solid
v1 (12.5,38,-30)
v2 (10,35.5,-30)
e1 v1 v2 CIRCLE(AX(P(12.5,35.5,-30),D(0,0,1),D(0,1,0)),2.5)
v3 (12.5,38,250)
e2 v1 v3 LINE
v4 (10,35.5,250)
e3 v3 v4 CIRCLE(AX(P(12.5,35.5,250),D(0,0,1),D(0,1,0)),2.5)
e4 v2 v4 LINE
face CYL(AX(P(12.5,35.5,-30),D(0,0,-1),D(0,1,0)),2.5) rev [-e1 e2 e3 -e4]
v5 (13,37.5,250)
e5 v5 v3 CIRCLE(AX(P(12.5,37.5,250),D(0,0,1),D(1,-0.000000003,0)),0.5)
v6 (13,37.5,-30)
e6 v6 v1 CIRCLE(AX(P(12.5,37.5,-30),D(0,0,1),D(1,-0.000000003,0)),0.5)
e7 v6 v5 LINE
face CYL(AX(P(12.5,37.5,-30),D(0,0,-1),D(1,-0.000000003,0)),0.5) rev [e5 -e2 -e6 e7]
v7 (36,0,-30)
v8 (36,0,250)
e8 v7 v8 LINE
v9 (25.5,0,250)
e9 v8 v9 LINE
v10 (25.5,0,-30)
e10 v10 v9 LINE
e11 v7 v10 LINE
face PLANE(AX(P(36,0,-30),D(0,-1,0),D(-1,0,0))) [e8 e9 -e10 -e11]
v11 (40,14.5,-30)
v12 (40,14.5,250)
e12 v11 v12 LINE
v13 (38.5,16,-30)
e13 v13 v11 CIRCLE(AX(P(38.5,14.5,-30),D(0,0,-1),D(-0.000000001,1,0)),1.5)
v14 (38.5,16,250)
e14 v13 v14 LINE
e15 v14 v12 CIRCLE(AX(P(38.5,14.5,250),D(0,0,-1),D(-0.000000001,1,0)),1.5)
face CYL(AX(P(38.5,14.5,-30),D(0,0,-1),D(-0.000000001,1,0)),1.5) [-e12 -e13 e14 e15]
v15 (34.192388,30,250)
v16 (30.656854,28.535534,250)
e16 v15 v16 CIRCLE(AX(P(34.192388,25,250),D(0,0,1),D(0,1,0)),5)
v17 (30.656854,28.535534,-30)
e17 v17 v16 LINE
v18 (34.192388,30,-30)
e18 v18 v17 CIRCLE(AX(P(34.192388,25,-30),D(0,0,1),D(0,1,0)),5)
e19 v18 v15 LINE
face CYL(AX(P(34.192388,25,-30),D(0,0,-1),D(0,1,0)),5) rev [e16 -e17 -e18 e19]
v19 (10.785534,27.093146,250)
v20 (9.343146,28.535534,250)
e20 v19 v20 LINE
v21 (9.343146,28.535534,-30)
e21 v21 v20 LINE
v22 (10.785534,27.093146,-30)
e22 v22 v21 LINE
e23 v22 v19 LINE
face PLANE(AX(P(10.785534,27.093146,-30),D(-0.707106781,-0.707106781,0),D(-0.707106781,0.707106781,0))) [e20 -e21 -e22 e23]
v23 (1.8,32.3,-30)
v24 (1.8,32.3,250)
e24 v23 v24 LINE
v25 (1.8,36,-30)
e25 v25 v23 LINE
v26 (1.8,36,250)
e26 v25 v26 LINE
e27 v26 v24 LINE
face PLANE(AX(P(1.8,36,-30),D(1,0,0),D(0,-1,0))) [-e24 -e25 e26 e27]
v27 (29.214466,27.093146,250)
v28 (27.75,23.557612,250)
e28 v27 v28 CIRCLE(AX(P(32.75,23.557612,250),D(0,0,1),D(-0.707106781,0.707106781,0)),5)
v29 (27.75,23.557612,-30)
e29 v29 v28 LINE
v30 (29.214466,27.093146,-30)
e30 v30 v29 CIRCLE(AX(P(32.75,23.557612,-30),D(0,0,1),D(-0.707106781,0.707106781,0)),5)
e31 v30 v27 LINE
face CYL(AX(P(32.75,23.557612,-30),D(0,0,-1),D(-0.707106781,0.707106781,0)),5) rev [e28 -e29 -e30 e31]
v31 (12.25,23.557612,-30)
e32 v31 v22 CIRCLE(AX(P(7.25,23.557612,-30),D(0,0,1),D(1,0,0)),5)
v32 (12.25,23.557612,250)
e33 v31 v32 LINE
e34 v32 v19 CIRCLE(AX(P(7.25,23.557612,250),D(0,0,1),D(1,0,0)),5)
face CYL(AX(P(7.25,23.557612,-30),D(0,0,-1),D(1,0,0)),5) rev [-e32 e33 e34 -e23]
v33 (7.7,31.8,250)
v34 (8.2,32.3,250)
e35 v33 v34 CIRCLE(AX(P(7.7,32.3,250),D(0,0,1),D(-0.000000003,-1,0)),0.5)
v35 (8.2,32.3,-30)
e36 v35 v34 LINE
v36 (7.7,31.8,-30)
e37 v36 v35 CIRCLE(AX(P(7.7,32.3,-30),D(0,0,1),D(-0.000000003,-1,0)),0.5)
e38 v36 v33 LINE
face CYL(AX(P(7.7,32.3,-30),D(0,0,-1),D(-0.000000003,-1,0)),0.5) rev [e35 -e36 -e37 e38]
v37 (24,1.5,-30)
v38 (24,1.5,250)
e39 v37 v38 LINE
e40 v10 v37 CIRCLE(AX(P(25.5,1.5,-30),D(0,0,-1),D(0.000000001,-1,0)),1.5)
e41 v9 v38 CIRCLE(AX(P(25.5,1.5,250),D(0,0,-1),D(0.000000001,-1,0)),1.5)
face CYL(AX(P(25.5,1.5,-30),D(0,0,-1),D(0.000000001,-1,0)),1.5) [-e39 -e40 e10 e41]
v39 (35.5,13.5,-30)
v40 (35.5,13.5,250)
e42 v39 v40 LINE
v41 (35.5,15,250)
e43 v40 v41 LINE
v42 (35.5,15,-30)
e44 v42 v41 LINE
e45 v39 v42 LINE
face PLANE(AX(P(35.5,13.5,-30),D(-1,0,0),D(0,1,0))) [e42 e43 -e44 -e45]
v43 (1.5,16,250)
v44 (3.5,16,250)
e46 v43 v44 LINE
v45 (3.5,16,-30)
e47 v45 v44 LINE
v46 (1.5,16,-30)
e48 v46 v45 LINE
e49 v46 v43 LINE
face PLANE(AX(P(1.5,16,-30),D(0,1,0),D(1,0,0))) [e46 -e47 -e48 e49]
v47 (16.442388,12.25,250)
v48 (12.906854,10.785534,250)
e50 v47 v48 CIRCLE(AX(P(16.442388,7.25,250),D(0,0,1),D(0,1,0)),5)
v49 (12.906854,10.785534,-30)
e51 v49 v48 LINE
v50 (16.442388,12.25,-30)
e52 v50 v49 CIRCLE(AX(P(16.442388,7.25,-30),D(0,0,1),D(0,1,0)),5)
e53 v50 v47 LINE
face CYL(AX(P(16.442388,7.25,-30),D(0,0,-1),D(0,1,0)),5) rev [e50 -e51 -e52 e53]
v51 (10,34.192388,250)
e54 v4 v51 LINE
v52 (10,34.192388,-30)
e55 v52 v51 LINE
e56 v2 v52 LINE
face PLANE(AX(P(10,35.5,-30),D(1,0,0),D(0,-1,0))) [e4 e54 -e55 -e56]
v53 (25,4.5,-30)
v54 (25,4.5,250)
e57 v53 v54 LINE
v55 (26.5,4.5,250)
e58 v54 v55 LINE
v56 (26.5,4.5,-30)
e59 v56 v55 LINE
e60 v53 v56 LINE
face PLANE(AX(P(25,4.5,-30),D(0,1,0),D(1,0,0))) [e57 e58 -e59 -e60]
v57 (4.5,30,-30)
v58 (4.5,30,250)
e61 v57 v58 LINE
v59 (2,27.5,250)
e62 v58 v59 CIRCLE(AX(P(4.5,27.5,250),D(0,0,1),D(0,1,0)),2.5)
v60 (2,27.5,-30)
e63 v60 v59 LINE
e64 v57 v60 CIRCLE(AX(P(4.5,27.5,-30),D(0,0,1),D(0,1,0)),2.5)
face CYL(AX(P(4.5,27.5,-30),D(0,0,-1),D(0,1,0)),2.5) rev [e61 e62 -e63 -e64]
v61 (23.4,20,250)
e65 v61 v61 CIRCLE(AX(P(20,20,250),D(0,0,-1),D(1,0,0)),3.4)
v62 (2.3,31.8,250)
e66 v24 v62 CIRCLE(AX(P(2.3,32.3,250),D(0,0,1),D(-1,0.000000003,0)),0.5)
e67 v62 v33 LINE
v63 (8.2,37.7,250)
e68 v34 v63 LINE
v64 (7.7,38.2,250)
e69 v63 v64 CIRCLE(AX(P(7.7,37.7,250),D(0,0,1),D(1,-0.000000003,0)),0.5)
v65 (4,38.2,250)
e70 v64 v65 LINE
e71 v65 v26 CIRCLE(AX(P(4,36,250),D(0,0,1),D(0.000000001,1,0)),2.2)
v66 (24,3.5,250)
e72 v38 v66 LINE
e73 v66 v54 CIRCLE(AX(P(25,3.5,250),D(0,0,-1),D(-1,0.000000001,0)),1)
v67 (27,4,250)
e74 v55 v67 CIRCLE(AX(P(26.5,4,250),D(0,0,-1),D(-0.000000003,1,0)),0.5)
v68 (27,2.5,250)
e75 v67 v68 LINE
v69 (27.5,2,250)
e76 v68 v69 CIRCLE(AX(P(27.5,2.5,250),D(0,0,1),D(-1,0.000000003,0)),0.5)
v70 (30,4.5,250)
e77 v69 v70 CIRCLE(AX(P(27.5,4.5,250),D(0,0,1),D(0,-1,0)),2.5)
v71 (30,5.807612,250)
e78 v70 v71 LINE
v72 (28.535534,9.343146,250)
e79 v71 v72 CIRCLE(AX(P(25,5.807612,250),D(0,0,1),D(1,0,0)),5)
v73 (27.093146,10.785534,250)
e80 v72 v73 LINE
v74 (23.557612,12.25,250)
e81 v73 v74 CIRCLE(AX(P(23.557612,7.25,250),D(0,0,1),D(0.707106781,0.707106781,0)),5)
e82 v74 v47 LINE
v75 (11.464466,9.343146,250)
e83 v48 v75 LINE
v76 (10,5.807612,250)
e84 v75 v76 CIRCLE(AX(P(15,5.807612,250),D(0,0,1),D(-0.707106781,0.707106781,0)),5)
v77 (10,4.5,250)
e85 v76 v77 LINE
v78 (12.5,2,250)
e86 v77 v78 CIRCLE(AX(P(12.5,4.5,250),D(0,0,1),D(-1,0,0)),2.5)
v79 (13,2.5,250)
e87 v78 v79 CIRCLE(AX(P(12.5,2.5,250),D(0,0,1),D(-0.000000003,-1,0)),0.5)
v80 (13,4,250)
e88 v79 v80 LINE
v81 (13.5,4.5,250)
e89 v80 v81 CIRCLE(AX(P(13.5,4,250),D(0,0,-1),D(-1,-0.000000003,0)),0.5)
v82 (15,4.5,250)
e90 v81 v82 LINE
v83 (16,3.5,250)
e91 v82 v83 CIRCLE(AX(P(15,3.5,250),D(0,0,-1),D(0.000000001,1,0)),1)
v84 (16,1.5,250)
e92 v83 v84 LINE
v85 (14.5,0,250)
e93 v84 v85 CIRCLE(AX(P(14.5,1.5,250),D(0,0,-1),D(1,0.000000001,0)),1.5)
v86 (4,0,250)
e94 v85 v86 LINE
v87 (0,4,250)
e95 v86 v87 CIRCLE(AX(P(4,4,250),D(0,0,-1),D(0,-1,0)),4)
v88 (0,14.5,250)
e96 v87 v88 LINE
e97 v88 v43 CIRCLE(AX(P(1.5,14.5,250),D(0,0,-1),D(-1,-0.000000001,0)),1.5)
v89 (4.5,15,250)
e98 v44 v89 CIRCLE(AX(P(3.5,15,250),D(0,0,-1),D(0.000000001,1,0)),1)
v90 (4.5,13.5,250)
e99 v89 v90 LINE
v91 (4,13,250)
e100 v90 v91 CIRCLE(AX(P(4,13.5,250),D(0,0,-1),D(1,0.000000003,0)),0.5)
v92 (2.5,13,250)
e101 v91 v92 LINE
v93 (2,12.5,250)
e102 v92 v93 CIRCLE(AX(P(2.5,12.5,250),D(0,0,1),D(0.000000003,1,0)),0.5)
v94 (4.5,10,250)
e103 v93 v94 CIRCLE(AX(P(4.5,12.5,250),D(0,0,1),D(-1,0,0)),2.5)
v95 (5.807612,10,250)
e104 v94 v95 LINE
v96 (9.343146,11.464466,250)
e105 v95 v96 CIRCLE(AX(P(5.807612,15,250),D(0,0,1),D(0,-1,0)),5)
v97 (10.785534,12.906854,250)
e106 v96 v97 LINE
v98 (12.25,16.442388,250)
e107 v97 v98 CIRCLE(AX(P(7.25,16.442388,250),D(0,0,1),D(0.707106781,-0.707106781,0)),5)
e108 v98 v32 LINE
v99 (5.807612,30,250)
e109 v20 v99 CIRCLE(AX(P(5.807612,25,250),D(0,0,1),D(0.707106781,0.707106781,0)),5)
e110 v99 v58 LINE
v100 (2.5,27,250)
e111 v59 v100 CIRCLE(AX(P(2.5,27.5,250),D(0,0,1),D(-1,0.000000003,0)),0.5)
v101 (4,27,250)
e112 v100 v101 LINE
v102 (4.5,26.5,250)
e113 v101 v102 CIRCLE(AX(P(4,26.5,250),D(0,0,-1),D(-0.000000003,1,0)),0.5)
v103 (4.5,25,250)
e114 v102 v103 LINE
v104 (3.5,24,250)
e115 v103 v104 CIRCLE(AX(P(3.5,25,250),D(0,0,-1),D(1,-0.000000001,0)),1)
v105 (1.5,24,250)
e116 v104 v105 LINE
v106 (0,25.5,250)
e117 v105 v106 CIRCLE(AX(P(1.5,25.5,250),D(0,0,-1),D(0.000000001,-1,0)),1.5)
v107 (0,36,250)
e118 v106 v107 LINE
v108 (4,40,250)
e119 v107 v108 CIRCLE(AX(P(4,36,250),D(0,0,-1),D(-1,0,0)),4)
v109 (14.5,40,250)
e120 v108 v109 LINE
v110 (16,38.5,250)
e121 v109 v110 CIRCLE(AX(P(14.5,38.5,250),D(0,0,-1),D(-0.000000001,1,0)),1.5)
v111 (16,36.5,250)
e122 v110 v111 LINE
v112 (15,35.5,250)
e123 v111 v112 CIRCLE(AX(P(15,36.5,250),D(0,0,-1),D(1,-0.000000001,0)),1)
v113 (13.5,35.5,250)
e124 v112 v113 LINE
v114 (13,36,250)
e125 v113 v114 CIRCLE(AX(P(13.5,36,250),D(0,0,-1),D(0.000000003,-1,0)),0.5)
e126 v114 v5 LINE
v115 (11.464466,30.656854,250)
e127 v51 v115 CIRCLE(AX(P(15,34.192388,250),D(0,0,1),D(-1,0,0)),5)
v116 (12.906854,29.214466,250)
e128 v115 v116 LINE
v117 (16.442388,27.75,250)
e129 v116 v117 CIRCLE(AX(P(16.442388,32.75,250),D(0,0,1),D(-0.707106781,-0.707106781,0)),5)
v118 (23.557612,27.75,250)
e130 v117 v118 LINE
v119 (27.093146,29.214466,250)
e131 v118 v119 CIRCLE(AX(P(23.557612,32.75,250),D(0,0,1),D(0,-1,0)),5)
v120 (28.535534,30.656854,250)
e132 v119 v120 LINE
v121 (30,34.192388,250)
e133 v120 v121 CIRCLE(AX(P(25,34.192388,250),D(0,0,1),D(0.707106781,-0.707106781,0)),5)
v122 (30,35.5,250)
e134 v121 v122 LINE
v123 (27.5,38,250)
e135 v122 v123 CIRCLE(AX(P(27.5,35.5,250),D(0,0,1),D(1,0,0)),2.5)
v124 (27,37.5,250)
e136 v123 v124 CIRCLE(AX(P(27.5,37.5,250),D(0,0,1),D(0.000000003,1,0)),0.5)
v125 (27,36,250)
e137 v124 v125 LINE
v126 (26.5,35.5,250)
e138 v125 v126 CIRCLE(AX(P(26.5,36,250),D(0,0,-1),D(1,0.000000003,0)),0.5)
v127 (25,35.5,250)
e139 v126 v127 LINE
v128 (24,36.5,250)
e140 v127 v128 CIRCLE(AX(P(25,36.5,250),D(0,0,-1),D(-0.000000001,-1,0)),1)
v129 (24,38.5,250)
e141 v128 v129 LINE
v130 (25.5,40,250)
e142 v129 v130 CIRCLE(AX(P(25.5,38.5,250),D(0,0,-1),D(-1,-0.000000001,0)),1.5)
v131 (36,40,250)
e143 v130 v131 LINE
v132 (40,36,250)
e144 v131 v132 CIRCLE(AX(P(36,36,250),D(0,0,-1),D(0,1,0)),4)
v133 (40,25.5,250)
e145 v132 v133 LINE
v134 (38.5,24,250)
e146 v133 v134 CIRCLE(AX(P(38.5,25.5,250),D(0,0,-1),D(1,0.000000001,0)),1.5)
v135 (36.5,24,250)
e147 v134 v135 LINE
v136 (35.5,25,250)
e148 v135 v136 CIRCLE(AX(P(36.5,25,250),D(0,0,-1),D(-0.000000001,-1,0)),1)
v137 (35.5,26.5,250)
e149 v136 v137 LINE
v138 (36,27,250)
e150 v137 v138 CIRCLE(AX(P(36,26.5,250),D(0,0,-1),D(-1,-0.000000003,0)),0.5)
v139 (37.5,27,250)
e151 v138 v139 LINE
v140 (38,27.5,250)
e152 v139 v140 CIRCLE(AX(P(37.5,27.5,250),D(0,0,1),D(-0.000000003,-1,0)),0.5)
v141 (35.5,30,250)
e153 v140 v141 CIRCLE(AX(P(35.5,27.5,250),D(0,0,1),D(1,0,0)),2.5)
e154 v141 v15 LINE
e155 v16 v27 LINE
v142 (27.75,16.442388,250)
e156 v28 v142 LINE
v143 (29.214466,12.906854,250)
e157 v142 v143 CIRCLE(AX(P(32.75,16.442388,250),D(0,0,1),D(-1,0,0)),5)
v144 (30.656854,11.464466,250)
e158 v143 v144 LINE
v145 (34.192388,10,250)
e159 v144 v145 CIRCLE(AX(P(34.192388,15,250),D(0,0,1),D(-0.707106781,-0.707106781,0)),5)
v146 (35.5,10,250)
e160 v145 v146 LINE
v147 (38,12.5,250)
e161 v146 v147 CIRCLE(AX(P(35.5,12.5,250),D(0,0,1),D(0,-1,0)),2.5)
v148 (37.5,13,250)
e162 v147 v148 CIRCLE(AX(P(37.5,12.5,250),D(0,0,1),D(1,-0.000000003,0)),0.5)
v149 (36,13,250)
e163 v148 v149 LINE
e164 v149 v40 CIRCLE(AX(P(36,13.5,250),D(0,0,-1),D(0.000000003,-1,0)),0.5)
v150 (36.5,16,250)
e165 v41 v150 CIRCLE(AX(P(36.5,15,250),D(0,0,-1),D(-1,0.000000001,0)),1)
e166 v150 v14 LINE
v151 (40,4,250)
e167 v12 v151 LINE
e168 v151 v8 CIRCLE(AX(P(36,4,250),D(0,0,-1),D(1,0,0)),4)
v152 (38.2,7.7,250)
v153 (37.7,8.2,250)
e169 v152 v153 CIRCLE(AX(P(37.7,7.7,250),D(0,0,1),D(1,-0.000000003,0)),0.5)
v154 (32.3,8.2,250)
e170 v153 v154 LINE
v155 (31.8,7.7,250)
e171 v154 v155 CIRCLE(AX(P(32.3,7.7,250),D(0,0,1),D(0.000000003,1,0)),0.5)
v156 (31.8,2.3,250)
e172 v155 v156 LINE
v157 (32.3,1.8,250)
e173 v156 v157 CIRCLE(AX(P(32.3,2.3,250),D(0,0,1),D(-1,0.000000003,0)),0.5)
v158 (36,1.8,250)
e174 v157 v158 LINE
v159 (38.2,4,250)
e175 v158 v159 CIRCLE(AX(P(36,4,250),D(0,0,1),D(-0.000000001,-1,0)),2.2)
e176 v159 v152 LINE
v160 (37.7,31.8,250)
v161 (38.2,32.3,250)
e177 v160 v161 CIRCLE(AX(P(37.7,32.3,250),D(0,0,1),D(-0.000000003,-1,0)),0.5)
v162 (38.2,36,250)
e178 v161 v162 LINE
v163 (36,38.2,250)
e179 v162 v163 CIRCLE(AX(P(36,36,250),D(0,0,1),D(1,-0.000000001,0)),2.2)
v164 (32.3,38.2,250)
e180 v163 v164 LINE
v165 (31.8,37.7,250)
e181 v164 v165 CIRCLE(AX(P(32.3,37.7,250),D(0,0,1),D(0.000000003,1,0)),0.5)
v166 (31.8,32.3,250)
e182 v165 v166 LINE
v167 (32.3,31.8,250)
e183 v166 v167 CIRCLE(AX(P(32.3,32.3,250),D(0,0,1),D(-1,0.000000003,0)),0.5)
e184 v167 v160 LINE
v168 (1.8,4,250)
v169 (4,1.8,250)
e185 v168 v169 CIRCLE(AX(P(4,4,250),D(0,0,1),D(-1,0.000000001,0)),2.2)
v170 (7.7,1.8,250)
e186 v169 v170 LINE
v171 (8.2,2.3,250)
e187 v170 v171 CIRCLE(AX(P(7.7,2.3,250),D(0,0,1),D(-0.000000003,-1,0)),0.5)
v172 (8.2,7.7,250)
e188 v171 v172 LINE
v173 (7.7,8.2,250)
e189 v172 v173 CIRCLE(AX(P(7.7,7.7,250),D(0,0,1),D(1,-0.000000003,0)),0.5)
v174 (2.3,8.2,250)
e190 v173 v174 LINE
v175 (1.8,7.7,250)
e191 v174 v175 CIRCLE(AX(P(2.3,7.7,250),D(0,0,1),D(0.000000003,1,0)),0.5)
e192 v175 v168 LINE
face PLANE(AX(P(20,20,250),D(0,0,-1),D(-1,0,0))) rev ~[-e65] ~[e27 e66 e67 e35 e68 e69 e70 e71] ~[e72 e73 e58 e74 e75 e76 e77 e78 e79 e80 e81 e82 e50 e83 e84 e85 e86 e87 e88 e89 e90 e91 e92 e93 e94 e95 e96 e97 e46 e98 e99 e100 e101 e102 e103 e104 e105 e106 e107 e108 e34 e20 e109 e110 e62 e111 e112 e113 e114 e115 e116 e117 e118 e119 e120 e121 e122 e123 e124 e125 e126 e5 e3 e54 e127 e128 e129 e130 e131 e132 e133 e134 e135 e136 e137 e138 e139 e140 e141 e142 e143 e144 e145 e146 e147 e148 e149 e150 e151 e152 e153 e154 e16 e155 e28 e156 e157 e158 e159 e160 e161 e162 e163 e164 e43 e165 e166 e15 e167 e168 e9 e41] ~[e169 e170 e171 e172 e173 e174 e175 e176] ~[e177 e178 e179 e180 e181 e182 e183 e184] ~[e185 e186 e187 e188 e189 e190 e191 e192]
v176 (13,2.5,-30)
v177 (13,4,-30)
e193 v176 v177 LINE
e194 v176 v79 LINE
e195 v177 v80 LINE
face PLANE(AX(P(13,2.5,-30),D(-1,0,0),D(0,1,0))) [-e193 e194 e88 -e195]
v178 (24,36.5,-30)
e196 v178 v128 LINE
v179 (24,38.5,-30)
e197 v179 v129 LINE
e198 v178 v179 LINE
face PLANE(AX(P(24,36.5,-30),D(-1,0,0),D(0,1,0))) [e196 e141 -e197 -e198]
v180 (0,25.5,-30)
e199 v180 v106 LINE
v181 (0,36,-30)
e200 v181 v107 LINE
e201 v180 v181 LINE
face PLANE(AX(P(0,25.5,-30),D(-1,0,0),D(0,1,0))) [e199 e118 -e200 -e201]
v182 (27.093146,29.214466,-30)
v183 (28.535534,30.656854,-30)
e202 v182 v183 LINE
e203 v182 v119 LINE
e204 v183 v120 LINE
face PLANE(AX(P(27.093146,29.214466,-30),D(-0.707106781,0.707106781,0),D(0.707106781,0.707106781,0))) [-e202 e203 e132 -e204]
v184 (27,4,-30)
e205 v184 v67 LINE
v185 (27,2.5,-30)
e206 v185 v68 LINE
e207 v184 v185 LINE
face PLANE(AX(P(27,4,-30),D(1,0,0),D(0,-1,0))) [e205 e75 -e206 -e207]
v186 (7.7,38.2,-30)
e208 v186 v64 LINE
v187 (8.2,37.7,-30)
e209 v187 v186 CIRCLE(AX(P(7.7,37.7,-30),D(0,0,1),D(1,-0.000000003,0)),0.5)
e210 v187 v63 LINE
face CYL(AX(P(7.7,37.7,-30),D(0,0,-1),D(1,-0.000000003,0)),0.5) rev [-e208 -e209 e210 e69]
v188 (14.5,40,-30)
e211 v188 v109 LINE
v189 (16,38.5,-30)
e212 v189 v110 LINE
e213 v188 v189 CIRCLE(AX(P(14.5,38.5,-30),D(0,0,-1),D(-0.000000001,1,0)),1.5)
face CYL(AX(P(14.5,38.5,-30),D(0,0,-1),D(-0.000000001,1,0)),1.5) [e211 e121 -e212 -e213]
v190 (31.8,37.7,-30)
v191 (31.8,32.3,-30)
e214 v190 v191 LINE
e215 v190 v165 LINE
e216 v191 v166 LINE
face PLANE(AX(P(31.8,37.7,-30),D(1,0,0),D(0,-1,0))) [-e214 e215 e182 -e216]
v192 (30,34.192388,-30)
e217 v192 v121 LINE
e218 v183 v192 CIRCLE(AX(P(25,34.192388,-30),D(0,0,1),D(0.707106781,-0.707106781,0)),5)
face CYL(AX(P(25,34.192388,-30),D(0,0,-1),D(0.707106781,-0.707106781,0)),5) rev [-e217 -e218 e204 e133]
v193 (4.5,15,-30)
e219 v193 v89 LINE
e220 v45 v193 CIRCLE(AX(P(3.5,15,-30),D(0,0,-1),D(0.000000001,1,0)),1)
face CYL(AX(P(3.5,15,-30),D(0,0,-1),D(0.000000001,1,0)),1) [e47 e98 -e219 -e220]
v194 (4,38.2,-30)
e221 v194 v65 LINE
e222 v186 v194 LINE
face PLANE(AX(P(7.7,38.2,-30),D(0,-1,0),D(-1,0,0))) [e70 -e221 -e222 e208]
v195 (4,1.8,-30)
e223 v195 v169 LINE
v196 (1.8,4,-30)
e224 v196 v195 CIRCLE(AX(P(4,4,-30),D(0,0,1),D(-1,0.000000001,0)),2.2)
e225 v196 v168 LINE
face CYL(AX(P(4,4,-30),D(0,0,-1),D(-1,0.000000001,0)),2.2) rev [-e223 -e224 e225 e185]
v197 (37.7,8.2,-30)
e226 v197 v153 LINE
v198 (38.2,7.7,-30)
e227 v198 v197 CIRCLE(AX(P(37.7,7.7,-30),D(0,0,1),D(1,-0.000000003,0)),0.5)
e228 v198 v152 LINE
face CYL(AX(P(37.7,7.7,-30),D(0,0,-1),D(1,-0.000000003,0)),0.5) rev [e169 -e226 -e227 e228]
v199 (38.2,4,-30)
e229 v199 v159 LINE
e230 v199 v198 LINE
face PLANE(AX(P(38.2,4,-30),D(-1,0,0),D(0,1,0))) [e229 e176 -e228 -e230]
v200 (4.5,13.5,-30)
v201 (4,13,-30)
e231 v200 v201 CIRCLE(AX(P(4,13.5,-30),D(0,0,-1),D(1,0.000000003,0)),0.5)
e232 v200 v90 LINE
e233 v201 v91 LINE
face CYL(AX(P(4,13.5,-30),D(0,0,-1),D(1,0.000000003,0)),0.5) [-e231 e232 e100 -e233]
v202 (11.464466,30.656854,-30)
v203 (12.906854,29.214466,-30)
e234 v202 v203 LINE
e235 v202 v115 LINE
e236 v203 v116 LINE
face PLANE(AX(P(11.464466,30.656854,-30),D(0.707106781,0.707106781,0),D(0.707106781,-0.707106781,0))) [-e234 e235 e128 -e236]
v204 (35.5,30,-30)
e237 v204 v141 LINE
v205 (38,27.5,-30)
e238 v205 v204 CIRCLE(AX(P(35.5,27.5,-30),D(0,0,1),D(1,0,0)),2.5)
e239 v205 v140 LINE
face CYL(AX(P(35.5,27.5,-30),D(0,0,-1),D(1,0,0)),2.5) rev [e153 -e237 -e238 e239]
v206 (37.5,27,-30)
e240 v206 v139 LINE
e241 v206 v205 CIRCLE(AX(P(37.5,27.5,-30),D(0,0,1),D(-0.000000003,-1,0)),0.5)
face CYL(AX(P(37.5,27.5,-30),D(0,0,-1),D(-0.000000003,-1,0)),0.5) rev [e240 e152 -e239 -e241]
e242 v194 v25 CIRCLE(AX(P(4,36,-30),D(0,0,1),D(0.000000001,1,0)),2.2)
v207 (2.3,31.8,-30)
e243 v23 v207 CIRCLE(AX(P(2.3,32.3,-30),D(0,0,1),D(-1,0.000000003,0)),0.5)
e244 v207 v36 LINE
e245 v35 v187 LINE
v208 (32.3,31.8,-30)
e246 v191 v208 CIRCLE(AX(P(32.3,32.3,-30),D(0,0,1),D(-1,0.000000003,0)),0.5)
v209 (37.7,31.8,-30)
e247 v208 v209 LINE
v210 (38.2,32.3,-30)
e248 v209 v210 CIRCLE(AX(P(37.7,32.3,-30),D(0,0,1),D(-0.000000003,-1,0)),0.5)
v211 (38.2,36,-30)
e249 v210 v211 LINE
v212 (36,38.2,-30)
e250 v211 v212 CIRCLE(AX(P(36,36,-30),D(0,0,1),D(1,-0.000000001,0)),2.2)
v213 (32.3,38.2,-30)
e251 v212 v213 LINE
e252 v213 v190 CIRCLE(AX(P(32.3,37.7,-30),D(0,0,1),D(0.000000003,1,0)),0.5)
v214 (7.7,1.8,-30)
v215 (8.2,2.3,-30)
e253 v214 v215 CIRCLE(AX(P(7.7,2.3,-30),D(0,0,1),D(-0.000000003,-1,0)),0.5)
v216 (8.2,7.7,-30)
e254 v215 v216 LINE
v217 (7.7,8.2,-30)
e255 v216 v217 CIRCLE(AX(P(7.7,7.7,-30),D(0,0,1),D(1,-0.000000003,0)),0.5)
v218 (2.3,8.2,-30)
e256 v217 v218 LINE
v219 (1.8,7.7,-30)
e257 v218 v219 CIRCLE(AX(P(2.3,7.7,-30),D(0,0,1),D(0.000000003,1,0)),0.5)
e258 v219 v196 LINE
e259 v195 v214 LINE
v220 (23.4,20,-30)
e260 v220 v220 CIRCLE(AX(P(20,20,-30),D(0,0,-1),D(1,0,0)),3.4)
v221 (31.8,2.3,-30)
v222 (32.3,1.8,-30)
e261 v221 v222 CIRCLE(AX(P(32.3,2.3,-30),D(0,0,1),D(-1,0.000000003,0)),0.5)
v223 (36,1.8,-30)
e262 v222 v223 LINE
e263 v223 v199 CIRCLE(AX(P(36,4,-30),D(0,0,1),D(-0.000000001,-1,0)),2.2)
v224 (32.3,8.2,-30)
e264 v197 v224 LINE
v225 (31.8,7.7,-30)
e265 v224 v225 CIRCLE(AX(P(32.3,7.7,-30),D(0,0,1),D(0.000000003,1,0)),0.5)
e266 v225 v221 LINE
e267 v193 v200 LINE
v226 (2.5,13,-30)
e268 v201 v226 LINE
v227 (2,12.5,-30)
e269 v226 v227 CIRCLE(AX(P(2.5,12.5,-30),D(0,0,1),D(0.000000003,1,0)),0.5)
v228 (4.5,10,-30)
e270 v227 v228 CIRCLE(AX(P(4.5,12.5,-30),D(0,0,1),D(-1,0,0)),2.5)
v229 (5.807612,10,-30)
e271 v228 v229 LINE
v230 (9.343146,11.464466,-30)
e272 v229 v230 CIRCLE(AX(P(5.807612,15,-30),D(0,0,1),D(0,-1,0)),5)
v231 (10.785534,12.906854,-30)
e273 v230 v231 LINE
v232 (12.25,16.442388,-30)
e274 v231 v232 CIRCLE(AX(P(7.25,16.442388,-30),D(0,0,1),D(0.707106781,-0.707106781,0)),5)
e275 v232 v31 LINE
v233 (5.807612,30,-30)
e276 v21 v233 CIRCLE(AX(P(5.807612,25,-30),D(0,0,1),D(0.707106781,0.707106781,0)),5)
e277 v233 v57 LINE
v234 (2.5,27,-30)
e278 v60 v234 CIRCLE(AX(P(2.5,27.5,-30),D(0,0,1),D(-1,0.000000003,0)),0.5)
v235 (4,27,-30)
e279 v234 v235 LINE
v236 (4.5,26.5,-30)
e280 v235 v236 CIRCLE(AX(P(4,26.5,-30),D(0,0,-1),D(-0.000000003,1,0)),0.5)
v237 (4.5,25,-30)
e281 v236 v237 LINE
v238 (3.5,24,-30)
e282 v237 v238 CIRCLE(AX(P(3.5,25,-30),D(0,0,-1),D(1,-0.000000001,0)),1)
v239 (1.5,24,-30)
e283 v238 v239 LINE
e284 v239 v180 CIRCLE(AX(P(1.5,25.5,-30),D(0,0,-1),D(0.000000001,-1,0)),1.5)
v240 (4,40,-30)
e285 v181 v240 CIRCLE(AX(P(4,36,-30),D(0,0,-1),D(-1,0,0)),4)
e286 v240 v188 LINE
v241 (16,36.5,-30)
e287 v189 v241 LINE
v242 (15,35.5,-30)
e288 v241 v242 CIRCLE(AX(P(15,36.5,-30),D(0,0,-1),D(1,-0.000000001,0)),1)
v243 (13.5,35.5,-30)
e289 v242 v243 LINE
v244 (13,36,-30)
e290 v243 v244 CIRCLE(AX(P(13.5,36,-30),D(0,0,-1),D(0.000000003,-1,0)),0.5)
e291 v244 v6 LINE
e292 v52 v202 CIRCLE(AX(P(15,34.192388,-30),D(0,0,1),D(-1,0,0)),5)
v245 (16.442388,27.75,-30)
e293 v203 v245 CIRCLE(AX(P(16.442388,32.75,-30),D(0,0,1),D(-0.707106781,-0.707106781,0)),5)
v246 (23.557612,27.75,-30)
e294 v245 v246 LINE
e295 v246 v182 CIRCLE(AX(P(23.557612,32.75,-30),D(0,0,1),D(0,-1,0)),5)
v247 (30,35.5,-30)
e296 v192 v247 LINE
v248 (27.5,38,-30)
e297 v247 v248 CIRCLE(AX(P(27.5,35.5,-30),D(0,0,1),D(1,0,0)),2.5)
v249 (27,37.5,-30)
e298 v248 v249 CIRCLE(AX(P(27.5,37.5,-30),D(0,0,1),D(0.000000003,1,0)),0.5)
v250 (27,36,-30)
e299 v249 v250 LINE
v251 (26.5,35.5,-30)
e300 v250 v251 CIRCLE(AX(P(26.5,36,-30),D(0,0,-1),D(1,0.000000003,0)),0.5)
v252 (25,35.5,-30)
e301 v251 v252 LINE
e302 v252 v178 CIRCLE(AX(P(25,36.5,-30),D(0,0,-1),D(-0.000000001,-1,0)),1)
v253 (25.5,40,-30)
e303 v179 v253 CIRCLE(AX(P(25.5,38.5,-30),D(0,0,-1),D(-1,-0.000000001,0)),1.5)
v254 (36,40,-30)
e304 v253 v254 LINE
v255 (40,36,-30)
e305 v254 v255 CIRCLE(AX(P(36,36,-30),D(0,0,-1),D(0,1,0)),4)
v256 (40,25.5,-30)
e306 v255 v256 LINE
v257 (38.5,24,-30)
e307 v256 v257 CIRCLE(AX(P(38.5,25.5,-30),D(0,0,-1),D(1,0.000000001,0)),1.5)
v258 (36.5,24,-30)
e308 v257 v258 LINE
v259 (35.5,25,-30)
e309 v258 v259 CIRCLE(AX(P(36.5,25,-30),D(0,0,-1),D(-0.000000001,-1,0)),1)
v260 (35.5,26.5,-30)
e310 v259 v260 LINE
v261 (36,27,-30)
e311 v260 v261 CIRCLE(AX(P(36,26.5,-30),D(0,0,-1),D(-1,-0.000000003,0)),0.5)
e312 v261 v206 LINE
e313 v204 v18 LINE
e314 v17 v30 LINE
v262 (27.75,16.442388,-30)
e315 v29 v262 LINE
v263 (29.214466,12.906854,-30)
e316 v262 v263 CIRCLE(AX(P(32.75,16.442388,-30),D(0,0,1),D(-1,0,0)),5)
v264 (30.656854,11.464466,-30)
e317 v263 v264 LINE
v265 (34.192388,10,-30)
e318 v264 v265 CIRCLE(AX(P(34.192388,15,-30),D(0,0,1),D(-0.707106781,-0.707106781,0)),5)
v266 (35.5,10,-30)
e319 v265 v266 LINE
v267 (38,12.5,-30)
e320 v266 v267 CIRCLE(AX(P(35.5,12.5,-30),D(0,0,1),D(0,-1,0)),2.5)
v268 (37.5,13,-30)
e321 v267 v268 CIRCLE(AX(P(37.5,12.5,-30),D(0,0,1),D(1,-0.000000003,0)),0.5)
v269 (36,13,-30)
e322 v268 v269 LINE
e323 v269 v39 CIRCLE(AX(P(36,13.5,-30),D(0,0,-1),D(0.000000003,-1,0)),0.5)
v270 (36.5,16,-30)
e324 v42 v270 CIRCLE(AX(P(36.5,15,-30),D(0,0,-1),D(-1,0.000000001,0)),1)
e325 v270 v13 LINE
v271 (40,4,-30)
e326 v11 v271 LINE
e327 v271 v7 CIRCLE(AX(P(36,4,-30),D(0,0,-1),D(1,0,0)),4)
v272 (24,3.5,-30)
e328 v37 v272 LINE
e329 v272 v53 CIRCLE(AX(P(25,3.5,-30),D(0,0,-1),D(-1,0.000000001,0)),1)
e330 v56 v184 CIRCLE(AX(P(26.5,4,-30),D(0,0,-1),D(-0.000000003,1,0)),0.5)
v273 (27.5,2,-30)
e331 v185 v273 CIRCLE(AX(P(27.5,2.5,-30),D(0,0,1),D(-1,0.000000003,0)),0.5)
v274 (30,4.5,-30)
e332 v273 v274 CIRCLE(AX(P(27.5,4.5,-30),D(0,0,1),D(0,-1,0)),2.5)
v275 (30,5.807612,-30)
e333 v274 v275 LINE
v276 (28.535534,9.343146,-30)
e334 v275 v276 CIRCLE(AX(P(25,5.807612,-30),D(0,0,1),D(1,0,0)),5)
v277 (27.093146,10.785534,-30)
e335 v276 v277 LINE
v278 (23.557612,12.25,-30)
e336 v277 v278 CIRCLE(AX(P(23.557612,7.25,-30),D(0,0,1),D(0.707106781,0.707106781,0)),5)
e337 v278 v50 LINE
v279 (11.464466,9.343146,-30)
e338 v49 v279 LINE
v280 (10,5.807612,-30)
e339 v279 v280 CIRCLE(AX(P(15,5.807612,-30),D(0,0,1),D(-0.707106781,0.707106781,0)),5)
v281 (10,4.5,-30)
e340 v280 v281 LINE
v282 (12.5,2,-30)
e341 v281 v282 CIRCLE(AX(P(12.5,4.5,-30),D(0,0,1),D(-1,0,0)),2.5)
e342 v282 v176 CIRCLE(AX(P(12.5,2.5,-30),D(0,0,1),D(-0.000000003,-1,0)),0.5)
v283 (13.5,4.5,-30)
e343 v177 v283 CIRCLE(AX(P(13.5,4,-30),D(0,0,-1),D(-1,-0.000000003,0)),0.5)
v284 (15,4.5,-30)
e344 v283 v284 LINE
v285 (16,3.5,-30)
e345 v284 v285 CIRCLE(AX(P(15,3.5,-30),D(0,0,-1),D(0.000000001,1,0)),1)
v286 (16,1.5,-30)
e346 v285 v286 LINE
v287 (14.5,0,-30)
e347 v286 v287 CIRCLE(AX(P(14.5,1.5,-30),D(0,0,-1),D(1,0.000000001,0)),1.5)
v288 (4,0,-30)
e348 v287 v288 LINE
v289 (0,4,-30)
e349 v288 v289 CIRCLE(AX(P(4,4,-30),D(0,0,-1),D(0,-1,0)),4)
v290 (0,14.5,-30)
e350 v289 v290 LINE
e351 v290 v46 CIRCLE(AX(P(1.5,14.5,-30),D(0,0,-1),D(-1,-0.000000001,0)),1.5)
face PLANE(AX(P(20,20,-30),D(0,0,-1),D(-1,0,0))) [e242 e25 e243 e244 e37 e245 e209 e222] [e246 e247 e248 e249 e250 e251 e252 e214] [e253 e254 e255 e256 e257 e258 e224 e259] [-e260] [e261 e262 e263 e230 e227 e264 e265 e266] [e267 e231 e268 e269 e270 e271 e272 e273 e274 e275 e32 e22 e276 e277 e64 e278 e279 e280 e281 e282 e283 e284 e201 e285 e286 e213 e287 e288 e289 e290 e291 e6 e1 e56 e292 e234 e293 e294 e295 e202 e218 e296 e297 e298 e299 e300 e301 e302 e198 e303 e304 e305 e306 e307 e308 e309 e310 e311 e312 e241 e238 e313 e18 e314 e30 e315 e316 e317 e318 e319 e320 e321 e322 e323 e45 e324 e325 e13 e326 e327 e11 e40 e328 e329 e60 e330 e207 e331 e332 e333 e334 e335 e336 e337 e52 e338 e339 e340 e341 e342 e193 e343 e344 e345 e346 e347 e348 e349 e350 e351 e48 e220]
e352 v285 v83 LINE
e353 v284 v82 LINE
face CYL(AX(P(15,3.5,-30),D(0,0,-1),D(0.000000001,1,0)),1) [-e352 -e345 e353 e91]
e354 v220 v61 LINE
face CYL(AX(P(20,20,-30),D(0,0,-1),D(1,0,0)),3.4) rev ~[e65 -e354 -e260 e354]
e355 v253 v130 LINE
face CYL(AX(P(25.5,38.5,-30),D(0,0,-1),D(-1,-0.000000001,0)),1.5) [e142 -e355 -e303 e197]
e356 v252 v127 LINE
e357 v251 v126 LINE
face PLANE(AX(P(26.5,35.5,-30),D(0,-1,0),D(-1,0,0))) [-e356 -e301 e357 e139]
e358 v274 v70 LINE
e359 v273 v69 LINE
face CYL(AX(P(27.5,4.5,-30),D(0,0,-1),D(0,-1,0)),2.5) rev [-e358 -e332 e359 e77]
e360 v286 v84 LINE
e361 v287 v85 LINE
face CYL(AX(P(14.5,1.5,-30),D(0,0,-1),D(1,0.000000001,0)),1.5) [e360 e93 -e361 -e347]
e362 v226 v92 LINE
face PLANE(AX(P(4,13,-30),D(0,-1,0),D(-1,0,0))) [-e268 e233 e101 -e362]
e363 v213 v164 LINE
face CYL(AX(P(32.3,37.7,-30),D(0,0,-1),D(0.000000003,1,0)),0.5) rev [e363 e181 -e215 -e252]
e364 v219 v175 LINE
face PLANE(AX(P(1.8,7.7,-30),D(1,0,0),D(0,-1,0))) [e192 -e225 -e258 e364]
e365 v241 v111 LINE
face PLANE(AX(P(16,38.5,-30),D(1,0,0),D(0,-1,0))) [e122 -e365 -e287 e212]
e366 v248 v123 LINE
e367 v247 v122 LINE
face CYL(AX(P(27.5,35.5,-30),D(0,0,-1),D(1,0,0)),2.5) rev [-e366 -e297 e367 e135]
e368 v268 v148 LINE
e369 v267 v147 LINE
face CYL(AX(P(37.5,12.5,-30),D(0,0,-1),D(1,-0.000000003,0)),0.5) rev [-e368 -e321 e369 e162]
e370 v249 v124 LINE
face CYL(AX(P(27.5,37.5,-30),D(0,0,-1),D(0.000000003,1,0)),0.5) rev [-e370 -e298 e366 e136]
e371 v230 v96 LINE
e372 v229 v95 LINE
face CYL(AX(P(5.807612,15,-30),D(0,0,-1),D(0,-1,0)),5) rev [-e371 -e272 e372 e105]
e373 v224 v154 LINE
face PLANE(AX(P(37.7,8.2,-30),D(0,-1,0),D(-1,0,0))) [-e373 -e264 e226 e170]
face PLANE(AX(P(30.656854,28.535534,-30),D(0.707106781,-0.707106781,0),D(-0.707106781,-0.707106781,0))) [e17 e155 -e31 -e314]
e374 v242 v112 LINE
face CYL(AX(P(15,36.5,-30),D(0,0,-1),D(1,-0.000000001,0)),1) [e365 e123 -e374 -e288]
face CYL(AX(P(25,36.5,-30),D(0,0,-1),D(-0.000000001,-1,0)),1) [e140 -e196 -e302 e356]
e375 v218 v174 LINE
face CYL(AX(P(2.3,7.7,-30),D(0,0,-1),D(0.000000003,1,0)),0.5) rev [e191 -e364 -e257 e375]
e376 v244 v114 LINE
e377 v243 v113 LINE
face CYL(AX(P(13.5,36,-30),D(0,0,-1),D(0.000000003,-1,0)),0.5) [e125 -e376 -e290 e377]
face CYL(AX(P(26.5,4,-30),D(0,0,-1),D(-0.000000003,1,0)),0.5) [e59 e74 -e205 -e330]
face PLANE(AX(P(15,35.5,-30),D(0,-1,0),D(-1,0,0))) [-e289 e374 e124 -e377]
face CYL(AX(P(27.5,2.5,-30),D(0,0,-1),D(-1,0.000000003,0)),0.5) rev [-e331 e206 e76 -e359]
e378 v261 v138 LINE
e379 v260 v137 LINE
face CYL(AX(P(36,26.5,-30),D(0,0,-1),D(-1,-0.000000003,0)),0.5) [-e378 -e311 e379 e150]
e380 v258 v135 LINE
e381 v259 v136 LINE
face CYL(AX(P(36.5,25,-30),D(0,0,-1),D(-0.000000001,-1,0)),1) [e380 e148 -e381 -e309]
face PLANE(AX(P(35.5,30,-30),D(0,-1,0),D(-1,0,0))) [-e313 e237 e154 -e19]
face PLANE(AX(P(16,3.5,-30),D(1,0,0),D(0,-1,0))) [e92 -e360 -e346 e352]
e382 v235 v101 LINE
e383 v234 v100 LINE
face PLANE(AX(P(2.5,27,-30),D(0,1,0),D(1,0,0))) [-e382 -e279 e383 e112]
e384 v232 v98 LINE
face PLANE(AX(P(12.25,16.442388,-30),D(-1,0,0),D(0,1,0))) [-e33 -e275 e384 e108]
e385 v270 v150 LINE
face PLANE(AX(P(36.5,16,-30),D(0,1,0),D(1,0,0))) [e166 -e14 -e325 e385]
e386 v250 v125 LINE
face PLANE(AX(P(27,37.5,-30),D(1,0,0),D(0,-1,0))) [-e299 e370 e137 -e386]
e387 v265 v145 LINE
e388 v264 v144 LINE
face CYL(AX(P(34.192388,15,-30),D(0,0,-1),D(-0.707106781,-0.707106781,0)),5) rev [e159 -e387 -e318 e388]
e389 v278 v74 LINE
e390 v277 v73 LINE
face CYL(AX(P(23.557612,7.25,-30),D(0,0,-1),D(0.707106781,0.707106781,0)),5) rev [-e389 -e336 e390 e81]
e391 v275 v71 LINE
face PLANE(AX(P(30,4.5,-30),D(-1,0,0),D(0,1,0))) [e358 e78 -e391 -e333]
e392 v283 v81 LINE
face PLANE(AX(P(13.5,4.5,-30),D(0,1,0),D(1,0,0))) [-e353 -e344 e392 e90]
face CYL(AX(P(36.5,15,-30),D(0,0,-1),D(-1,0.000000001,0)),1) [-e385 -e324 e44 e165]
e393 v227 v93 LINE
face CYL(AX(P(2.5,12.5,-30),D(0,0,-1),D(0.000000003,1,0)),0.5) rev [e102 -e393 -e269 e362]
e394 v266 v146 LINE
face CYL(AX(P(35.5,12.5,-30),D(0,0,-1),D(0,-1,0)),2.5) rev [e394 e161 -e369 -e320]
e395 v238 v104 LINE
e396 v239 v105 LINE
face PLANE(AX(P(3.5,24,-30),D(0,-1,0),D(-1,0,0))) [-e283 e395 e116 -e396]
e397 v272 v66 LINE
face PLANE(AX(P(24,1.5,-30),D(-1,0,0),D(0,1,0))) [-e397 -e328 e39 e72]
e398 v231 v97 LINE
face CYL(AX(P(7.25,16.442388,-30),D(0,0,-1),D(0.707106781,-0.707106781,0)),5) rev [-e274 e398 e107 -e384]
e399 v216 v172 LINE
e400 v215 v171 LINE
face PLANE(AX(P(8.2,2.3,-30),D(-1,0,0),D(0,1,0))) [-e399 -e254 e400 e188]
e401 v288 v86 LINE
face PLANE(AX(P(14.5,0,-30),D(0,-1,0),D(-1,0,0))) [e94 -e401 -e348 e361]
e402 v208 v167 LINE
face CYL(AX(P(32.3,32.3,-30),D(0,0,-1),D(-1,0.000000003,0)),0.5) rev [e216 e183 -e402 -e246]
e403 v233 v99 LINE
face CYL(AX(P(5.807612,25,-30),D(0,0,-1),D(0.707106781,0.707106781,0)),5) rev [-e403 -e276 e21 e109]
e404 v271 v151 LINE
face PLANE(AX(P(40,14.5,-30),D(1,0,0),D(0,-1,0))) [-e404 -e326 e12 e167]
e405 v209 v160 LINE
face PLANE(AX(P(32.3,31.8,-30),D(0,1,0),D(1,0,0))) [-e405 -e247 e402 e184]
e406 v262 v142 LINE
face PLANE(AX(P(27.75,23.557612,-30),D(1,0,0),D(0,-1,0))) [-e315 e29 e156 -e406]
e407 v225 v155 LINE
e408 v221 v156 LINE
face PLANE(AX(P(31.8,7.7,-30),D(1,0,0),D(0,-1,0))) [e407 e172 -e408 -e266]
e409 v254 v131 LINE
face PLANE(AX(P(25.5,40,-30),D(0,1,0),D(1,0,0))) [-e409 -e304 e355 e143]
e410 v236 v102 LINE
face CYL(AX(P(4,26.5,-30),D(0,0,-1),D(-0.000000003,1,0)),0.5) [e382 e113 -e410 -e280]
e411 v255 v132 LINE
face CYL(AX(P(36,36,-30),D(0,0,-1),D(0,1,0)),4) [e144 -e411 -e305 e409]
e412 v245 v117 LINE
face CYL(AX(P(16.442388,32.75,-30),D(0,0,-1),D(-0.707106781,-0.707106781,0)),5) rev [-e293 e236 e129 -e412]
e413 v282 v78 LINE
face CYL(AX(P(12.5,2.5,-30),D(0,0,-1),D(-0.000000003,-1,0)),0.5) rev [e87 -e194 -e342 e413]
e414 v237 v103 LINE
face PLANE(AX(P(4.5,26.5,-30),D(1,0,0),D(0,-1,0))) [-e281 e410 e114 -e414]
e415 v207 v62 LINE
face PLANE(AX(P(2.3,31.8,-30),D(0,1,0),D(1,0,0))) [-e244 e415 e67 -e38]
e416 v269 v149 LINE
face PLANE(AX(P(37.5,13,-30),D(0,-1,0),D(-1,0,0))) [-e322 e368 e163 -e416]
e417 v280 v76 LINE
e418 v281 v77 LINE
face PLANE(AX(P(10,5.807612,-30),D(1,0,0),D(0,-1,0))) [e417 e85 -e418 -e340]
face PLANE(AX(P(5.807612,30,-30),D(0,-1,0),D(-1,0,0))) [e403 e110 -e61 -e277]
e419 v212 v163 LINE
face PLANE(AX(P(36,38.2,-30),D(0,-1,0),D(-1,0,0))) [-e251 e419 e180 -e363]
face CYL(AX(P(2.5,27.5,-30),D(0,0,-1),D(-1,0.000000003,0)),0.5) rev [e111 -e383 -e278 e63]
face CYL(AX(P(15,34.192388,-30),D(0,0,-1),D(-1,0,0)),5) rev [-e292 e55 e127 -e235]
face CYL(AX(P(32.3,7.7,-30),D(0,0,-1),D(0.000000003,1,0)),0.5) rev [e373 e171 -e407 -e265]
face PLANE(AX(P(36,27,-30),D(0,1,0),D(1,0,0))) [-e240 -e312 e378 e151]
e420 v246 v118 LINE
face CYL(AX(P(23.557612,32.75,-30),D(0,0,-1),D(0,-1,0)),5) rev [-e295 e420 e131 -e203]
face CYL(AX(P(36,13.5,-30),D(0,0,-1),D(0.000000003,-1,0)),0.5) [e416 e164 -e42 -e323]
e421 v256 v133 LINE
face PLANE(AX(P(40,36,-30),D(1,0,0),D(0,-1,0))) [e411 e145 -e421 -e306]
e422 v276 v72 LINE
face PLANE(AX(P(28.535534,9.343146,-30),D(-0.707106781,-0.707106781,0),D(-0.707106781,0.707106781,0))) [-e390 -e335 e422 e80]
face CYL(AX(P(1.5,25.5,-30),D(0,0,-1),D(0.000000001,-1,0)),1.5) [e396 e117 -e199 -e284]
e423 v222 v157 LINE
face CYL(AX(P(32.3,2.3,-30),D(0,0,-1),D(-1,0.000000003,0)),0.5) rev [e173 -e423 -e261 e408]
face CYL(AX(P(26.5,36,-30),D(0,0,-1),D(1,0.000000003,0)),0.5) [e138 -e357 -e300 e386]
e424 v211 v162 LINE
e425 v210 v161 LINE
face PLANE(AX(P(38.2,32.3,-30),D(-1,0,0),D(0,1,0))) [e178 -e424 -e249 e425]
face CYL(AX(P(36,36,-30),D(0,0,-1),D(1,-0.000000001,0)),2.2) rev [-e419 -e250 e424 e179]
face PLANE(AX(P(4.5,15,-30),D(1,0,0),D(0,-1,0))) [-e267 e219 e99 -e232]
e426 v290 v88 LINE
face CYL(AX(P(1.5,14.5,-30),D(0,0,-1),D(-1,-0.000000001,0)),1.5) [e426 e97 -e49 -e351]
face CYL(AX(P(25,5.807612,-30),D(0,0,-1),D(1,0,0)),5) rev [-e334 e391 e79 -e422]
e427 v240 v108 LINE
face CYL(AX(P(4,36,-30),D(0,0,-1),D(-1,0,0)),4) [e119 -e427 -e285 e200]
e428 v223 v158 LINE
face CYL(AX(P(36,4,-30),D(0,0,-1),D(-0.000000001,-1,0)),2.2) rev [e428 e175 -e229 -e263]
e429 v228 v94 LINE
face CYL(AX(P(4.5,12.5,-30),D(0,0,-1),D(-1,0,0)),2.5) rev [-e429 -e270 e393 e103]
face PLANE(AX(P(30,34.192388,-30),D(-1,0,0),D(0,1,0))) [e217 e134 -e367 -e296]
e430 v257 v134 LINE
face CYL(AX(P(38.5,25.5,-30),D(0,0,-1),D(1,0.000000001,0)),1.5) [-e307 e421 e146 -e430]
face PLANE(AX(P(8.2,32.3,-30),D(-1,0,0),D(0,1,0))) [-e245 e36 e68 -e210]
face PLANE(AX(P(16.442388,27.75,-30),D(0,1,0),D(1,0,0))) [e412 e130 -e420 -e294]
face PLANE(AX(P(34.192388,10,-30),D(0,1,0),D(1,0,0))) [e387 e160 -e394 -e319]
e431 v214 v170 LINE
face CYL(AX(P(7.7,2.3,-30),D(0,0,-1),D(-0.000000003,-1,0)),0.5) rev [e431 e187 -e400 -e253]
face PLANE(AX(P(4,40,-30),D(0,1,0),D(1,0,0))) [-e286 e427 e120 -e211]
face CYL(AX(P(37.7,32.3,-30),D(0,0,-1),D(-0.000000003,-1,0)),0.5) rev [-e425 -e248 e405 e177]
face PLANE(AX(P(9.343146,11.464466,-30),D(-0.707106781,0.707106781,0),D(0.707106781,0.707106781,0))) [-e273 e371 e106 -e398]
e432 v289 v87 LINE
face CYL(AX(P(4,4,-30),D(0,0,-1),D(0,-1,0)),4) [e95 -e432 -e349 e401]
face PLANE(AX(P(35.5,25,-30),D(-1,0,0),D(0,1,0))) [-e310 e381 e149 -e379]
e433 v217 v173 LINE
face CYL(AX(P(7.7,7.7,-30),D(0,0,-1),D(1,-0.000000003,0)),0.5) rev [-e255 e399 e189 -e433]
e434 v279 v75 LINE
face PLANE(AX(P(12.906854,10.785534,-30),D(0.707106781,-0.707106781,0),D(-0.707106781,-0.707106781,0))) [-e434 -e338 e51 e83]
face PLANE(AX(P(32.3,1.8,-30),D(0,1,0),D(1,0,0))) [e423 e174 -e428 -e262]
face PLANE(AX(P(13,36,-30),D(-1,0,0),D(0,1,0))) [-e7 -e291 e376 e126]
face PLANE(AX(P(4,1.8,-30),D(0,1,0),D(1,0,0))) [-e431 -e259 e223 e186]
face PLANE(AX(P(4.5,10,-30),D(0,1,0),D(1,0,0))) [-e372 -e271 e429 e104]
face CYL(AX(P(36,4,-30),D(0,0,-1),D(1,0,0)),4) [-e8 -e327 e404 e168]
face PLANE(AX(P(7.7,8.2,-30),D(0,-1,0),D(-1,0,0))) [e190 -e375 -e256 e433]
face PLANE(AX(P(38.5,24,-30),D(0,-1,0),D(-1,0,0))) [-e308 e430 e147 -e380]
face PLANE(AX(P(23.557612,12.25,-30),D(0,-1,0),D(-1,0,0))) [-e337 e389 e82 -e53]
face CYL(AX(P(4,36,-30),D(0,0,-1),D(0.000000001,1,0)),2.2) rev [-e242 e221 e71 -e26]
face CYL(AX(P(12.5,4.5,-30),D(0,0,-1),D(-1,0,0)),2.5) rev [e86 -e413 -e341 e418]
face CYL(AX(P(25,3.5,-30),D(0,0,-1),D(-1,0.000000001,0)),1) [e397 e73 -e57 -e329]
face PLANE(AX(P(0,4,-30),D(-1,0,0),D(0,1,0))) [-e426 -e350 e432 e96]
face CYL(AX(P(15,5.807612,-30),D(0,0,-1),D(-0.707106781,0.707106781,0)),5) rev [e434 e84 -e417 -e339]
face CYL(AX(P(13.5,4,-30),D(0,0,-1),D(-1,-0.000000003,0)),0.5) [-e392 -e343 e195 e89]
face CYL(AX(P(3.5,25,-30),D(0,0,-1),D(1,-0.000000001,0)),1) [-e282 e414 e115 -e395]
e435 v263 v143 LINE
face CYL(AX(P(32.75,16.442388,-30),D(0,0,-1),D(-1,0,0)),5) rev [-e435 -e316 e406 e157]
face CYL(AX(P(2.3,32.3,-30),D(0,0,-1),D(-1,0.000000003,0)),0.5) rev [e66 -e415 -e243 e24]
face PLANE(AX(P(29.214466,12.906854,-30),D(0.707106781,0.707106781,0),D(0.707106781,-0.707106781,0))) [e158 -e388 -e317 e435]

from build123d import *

# Parameters (mm, degrees)
ESQUISSE1_R        = 3.4
BOSS_EXTRU_1_DEPTH = 280


with BuildPart() as part:
    # Esquisse1 → Boss.-Extru.1 (new body)
    with BuildSketch(Plane(origin=(0, 0, -30), x_dir=(-1, 0, 0), z_dir=(0, 0, -1))):
        with BuildLine():
            Line((-4.5, 15), (-4.5, 13.5))
            ThreePointArc((-4.5, 13.5), (-4.353553391, 13.146446609), (-4, 13))
            Line((-4, 13), (-2.5, 13))
            ThreePointArc((-2.5, 13), (-2.146446609, 12.853553391), (-2, 12.5))
            ThreePointArc((-2, 12.5), (-2.732233047, 10.732233047), (-4.5, 10))
            Line((-4.5, 10), (-5.807611845, 10))
            ThreePointArc((-5.807611845, 10), (-7.721029006, 10.380602337), (-9.343145751, 11.464466094))
            Line((-9.343145751, 11.464466094), (-10.785533906, 12.906854249))
            ThreePointArc((-10.785533906, 12.906854249), (-11.869397663, 14.528970994), (-12.25, 16.442388155))
            Line((-12.25, 16.442388155), (-12.25, 23.557611845))
            ThreePointArc((-12.25, 23.557611845), (-11.869397663, 25.471029006), (-10.785533906, 27.093145751))
            Line((-10.785533906, 27.093145751), (-9.343145751, 28.535533906))
            ThreePointArc((-9.343145751, 28.535533906), (-7.721029006, 29.619397663), (-5.807611845, 30))
            Line((-5.807611845, 30), (-4.5, 30))
            ThreePointArc((-4.5, 30), (-2.732233047, 29.267766953), (-2, 27.5))
            ThreePointArc((-2, 27.5), (-2.146446609, 27.146446609), (-2.5, 27))
            Line((-2.5, 27), (-4, 27))
            ThreePointArc((-4, 27), (-4.353553391, 26.853553391), (-4.5, 26.5))
            Line((-4.5, 26.5), (-4.5, 25))
            ThreePointArc((-4.5, 25), (-4.207106781, 24.292893219), (-3.5, 24))
            Line((-3.5, 24), (-1.5, 24))
            ThreePointArc((-1.5, 24), (-0.439339828, 24.439339828), (0, 25.5))
            Line((0, 25.5), (0, 36))
            ThreePointArc((0, 36), (-1.171572875, 38.828427125), (-4, 40))
            Line((-4, 40), (-14.5, 40))
            ThreePointArc((-14.5, 40), (-15.560660172, 39.560660172), (-16, 38.5))
            Line((-16, 38.5), (-16, 36.5))
            ThreePointArc((-16, 36.5), (-15.707106781, 35.792893219), (-15, 35.5))
            Line((-15, 35.5), (-13.5, 35.5))
            ThreePointArc((-13.5, 35.5), (-13.146446609, 35.646446609), (-13, 36))
            Line((-13, 36), (-13, 37.5))
            ThreePointArc((-13, 37.5), (-12.853553391, 37.853553391), (-12.5, 38))
            ThreePointArc((-12.5, 38), (-10.732233047, 37.267766953), (-10, 35.5))
            Line((-10, 35.5), (-10, 34.192388155))
            ThreePointArc((-10, 34.192388155), (-10.380602337, 32.278970994), (-11.464466094, 30.656854249))
            Line((-11.464466094, 30.656854249), (-12.906854249, 29.214466094))
            ThreePointArc((-12.906854249, 29.214466094), (-14.528970994, 28.130602337), (-16.442388155, 27.75))
            Line((-16.442388155, 27.75), (-23.557611845, 27.75))
            ThreePointArc((-23.557611845, 27.75), (-25.471029006, 28.130602337), (-27.093145751, 29.214466094))
            Line((-27.093145751, 29.214466094), (-28.535533906, 30.656854249))
            ThreePointArc((-28.535533906, 30.656854249), (-29.619397663, 32.278970994), (-30, 34.192388155))
            Line((-30, 34.192388155), (-30, 35.5))
            ThreePointArc((-30, 35.5), (-29.267766953, 37.267766953), (-27.5, 38))
            ThreePointArc((-27.5, 38), (-27.146446609, 37.853553391), (-27, 37.5))
            Line((-27, 37.5), (-27, 36))
            ThreePointArc((-27, 36), (-26.853553391, 35.646446609), (-26.5, 35.5))
            Line((-26.5, 35.5), (-25, 35.5))
            ThreePointArc((-25, 35.5), (-24.292893219, 35.792893219), (-24, 36.5))
            Line((-24, 36.5), (-24, 38.5))
            ThreePointArc((-24, 38.5), (-24.439339828, 39.560660172), (-25.5, 40))
            Line((-25.5, 40), (-36, 40))
            ThreePointArc((-36, 40), (-38.828427125, 38.828427125), (-40, 36))
            Line((-40, 36), (-40, 25.5))
            ThreePointArc((-40, 25.5), (-39.560660172, 24.439339828), (-38.5, 24))
            Line((-38.5, 24), (-36.5, 24))
            ThreePointArc((-36.5, 24), (-35.792893219, 24.292893219), (-35.5, 25))
            Line((-35.5, 25), (-35.5, 26.5))
            ThreePointArc((-35.5, 26.5), (-35.646446609, 26.853553391), (-36, 27))
            Line((-36, 27), (-37.5, 27))
            ThreePointArc((-37.5, 27), (-37.853553391, 27.146446609), (-38, 27.5))
            ThreePointArc((-38, 27.5), (-37.267766953, 29.267766953), (-35.5, 30))
            Line((-35.5, 30), (-34.192388155, 30))
            ThreePointArc((-34.192388155, 30), (-32.278970994, 29.619397663), (-30.656854249, 28.535533906))
            Line((-30.656854249, 28.535533906), (-29.214466094, 27.093145751))
            ThreePointArc((-29.214466094, 27.093145751), (-28.130602337, 25.471029006), (-27.75, 23.557611845))
            Line((-27.75, 23.557611845), (-27.75, 16.442388155))
            ThreePointArc((-27.75, 16.442388155), (-28.130602337, 14.528970994), (-29.214466094, 12.906854249))
            Line((-29.214466094, 12.906854249), (-30.656854249, 11.464466094))
            ThreePointArc((-30.656854249, 11.464466094), (-32.278970994, 10.380602337), (-34.192388155, 10))
            Line((-34.192388155, 10), (-35.5, 10))
            ThreePointArc((-35.5, 10), (-37.267766953, 10.732233047), (-38, 12.5))
            ThreePointArc((-38, 12.5), (-37.853553391, 12.853553391), (-37.5, 13))
            Line((-37.5, 13), (-36, 13))
            ThreePointArc((-36, 13), (-35.646446609, 13.146446609), (-35.5, 13.5))
            Line((-35.5, 13.5), (-35.5, 15))
            ThreePointArc((-35.5, 15), (-35.792893219, 15.707106781), (-36.5, 16))
            Line((-36.5, 16), (-38.5, 16))
            ThreePointArc((-38.5, 16), (-39.560660172, 15.560660172), (-40, 14.5))
            Line((-40, 14.5), (-40, 4))
            ThreePointArc((-40, 4), (-38.828427125, 1.171572875), (-36, 0))
            Line((-36, 0), (-25.5, 0))
            ThreePointArc((-25.5, 0), (-24.439339828, 0.439339828), (-24, 1.5))
            Line((-24, 1.5), (-24, 3.5))
            ThreePointArc((-24, 3.5), (-24.292893219, 4.207106781), (-25, 4.5))
            Line((-25, 4.5), (-26.5, 4.5))
            ThreePointArc((-26.5, 4.5), (-26.853553391, 4.353553391), (-27, 4))
            Line((-27, 4), (-27, 2.5))
            ThreePointArc((-27, 2.5), (-27.146446609, 2.146446609), (-27.5, 2))
            ThreePointArc((-27.5, 2), (-29.267766953, 2.732233047), (-30, 4.5))
            Line((-30, 4.5), (-30, 5.807611845))
            ThreePointArc((-30, 5.807611845), (-29.619397663, 7.721029006), (-28.535533906, 9.343145751))
            Line((-28.535533906, 9.343145751), (-27.093145751, 10.785533906))
            ThreePointArc((-27.093145751, 10.785533906), (-25.471029006, 11.869397663), (-23.557611845, 12.25))
            Line((-23.557611845, 12.25), (-16.442388155, 12.25))
            ThreePointArc((-16.442388155, 12.25), (-14.528970994, 11.869397663), (-12.906854249, 10.785533906))
            Line((-12.906854249, 10.785533906), (-11.464466094, 9.343145751))
            ThreePointArc((-11.464466094, 9.343145751), (-10.380602337, 7.721029006), (-10, 5.807611845))
            Line((-10, 5.807611845), (-10, 4.5))
            ThreePointArc((-10, 4.5), (-10.732233047, 2.732233047), (-12.5, 2))
            ThreePointArc((-12.5, 2), (-12.853553391, 2.146446609), (-13, 2.5))
            Line((-13, 2.5), (-13, 4))
            ThreePointArc((-13, 4), (-13.146446609, 4.353553391), (-13.5, 4.5))
            Line((-13.5, 4.5), (-15, 4.5))
            ThreePointArc((-15, 4.5), (-15.707106781, 4.207106781), (-16, 3.5))
            Line((-16, 3.5), (-16, 1.5))
            ThreePointArc((-16, 1.5), (-15.560660172, 0.439339828), (-14.5, 0))
            Line((-14.5, 0), (-4, 0))
            ThreePointArc((-4, 0), (-1.171572875, 1.171572875), (0, 4))
            Line((0, 4), (0, 14.5))
            ThreePointArc((0, 14.5), (-0.439339828, 15.560660172), (-1.5, 16))
            Line((-1.5, 16), (-3.5, 16))
            ThreePointArc((-3.5, 16), (-4.207106781, 15.707106781), (-4.5, 15))
        make_face()
        with Locations(Location((-20, 20, 0), (0, 0, 180))):
            Circle(ESQUISSE1_R, mode=Mode.SUBTRACT)
        with BuildLine():
            Line((-4, 1.8), (-7.7, 1.8))
            ThreePointArc((-7.7, 1.8), (-8.053553391, 1.946446609), (-8.2, 2.3))
            Line((-8.2, 2.3), (-8.2, 7.7))
            ThreePointArc((-8.2, 7.7), (-8.053553391, 8.053553391), (-7.7, 8.2))
            Line((-7.7, 8.2), (-2.3, 8.2))
            ThreePointArc((-2.3, 8.2), (-1.946446609, 8.053553391), (-1.8, 7.7))
            Line((-1.8, 7.7), (-1.8, 4))
            ThreePointArc((-1.8, 4), (-2.444365081, 2.444365081), (-4, 1.8))
        make_face(mode=Mode.SUBTRACT)
        with BuildLine():
            Line((-38.2, 4), (-38.2, 7.7))
            ThreePointArc((-38.2, 7.7), (-38.053553391, 8.053553391), (-37.7, 8.2))
            Line((-37.7, 8.2), (-32.3, 8.2))
            ThreePointArc((-32.3, 8.2), (-31.946446609, 8.053553391), (-31.8, 7.7))
            Line((-31.8, 7.7), (-31.8, 2.3))
            ThreePointArc((-31.8, 2.3), (-31.946446609, 1.946446609), (-32.3, 1.8))
            Line((-32.3, 1.8), (-36, 1.8))
            ThreePointArc((-36, 1.8), (-37.555634919, 2.444365081), (-38.2, 4))
        make_face(mode=Mode.SUBTRACT)
        with BuildLine():
            Line((-36, 38.2), (-32.3, 38.2))
            ThreePointArc((-32.3, 38.2), (-31.946446609, 38.053553391), (-31.8, 37.7))
            Line((-31.8, 37.7), (-31.8, 32.3))
            ThreePointArc((-31.8, 32.3), (-31.946446609, 31.946446609), (-32.3, 31.8))
            Line((-32.3, 31.8), (-37.7, 31.8))
            ThreePointArc((-37.7, 31.8), (-38.053553391, 31.946446609), (-38.2, 32.3))
            Line((-38.2, 32.3), (-38.2, 36))
            ThreePointArc((-38.2, 36), (-37.555634919, 37.555634919), (-36, 38.2))
        make_face(mode=Mode.SUBTRACT)
        with BuildLine():
            Line((-1.8, 36), (-1.8, 32.3))
            ThreePointArc((-1.8, 32.3), (-1.946446609, 31.946446609), (-2.3, 31.8))
            Line((-2.3, 31.8), (-7.7, 31.8))
            ThreePointArc((-7.7, 31.8), (-8.053553391, 31.946446609), (-8.2, 32.3))
            Line((-8.2, 32.3), (-8.2, 37.7))
            ThreePointArc((-8.2, 37.7), (-8.053553391, 38.053553391), (-7.7, 38.2))
            Line((-7.7, 38.2), (-4, 38.2))
            ThreePointArc((-4, 38.2), (-2.444365081, 37.555634919), (-1.8, 36))
        make_face(mode=Mode.SUBTRACT)
    extrude(amount=-BOSS_EXTRU_1_DEPTH)


solid = part.part
